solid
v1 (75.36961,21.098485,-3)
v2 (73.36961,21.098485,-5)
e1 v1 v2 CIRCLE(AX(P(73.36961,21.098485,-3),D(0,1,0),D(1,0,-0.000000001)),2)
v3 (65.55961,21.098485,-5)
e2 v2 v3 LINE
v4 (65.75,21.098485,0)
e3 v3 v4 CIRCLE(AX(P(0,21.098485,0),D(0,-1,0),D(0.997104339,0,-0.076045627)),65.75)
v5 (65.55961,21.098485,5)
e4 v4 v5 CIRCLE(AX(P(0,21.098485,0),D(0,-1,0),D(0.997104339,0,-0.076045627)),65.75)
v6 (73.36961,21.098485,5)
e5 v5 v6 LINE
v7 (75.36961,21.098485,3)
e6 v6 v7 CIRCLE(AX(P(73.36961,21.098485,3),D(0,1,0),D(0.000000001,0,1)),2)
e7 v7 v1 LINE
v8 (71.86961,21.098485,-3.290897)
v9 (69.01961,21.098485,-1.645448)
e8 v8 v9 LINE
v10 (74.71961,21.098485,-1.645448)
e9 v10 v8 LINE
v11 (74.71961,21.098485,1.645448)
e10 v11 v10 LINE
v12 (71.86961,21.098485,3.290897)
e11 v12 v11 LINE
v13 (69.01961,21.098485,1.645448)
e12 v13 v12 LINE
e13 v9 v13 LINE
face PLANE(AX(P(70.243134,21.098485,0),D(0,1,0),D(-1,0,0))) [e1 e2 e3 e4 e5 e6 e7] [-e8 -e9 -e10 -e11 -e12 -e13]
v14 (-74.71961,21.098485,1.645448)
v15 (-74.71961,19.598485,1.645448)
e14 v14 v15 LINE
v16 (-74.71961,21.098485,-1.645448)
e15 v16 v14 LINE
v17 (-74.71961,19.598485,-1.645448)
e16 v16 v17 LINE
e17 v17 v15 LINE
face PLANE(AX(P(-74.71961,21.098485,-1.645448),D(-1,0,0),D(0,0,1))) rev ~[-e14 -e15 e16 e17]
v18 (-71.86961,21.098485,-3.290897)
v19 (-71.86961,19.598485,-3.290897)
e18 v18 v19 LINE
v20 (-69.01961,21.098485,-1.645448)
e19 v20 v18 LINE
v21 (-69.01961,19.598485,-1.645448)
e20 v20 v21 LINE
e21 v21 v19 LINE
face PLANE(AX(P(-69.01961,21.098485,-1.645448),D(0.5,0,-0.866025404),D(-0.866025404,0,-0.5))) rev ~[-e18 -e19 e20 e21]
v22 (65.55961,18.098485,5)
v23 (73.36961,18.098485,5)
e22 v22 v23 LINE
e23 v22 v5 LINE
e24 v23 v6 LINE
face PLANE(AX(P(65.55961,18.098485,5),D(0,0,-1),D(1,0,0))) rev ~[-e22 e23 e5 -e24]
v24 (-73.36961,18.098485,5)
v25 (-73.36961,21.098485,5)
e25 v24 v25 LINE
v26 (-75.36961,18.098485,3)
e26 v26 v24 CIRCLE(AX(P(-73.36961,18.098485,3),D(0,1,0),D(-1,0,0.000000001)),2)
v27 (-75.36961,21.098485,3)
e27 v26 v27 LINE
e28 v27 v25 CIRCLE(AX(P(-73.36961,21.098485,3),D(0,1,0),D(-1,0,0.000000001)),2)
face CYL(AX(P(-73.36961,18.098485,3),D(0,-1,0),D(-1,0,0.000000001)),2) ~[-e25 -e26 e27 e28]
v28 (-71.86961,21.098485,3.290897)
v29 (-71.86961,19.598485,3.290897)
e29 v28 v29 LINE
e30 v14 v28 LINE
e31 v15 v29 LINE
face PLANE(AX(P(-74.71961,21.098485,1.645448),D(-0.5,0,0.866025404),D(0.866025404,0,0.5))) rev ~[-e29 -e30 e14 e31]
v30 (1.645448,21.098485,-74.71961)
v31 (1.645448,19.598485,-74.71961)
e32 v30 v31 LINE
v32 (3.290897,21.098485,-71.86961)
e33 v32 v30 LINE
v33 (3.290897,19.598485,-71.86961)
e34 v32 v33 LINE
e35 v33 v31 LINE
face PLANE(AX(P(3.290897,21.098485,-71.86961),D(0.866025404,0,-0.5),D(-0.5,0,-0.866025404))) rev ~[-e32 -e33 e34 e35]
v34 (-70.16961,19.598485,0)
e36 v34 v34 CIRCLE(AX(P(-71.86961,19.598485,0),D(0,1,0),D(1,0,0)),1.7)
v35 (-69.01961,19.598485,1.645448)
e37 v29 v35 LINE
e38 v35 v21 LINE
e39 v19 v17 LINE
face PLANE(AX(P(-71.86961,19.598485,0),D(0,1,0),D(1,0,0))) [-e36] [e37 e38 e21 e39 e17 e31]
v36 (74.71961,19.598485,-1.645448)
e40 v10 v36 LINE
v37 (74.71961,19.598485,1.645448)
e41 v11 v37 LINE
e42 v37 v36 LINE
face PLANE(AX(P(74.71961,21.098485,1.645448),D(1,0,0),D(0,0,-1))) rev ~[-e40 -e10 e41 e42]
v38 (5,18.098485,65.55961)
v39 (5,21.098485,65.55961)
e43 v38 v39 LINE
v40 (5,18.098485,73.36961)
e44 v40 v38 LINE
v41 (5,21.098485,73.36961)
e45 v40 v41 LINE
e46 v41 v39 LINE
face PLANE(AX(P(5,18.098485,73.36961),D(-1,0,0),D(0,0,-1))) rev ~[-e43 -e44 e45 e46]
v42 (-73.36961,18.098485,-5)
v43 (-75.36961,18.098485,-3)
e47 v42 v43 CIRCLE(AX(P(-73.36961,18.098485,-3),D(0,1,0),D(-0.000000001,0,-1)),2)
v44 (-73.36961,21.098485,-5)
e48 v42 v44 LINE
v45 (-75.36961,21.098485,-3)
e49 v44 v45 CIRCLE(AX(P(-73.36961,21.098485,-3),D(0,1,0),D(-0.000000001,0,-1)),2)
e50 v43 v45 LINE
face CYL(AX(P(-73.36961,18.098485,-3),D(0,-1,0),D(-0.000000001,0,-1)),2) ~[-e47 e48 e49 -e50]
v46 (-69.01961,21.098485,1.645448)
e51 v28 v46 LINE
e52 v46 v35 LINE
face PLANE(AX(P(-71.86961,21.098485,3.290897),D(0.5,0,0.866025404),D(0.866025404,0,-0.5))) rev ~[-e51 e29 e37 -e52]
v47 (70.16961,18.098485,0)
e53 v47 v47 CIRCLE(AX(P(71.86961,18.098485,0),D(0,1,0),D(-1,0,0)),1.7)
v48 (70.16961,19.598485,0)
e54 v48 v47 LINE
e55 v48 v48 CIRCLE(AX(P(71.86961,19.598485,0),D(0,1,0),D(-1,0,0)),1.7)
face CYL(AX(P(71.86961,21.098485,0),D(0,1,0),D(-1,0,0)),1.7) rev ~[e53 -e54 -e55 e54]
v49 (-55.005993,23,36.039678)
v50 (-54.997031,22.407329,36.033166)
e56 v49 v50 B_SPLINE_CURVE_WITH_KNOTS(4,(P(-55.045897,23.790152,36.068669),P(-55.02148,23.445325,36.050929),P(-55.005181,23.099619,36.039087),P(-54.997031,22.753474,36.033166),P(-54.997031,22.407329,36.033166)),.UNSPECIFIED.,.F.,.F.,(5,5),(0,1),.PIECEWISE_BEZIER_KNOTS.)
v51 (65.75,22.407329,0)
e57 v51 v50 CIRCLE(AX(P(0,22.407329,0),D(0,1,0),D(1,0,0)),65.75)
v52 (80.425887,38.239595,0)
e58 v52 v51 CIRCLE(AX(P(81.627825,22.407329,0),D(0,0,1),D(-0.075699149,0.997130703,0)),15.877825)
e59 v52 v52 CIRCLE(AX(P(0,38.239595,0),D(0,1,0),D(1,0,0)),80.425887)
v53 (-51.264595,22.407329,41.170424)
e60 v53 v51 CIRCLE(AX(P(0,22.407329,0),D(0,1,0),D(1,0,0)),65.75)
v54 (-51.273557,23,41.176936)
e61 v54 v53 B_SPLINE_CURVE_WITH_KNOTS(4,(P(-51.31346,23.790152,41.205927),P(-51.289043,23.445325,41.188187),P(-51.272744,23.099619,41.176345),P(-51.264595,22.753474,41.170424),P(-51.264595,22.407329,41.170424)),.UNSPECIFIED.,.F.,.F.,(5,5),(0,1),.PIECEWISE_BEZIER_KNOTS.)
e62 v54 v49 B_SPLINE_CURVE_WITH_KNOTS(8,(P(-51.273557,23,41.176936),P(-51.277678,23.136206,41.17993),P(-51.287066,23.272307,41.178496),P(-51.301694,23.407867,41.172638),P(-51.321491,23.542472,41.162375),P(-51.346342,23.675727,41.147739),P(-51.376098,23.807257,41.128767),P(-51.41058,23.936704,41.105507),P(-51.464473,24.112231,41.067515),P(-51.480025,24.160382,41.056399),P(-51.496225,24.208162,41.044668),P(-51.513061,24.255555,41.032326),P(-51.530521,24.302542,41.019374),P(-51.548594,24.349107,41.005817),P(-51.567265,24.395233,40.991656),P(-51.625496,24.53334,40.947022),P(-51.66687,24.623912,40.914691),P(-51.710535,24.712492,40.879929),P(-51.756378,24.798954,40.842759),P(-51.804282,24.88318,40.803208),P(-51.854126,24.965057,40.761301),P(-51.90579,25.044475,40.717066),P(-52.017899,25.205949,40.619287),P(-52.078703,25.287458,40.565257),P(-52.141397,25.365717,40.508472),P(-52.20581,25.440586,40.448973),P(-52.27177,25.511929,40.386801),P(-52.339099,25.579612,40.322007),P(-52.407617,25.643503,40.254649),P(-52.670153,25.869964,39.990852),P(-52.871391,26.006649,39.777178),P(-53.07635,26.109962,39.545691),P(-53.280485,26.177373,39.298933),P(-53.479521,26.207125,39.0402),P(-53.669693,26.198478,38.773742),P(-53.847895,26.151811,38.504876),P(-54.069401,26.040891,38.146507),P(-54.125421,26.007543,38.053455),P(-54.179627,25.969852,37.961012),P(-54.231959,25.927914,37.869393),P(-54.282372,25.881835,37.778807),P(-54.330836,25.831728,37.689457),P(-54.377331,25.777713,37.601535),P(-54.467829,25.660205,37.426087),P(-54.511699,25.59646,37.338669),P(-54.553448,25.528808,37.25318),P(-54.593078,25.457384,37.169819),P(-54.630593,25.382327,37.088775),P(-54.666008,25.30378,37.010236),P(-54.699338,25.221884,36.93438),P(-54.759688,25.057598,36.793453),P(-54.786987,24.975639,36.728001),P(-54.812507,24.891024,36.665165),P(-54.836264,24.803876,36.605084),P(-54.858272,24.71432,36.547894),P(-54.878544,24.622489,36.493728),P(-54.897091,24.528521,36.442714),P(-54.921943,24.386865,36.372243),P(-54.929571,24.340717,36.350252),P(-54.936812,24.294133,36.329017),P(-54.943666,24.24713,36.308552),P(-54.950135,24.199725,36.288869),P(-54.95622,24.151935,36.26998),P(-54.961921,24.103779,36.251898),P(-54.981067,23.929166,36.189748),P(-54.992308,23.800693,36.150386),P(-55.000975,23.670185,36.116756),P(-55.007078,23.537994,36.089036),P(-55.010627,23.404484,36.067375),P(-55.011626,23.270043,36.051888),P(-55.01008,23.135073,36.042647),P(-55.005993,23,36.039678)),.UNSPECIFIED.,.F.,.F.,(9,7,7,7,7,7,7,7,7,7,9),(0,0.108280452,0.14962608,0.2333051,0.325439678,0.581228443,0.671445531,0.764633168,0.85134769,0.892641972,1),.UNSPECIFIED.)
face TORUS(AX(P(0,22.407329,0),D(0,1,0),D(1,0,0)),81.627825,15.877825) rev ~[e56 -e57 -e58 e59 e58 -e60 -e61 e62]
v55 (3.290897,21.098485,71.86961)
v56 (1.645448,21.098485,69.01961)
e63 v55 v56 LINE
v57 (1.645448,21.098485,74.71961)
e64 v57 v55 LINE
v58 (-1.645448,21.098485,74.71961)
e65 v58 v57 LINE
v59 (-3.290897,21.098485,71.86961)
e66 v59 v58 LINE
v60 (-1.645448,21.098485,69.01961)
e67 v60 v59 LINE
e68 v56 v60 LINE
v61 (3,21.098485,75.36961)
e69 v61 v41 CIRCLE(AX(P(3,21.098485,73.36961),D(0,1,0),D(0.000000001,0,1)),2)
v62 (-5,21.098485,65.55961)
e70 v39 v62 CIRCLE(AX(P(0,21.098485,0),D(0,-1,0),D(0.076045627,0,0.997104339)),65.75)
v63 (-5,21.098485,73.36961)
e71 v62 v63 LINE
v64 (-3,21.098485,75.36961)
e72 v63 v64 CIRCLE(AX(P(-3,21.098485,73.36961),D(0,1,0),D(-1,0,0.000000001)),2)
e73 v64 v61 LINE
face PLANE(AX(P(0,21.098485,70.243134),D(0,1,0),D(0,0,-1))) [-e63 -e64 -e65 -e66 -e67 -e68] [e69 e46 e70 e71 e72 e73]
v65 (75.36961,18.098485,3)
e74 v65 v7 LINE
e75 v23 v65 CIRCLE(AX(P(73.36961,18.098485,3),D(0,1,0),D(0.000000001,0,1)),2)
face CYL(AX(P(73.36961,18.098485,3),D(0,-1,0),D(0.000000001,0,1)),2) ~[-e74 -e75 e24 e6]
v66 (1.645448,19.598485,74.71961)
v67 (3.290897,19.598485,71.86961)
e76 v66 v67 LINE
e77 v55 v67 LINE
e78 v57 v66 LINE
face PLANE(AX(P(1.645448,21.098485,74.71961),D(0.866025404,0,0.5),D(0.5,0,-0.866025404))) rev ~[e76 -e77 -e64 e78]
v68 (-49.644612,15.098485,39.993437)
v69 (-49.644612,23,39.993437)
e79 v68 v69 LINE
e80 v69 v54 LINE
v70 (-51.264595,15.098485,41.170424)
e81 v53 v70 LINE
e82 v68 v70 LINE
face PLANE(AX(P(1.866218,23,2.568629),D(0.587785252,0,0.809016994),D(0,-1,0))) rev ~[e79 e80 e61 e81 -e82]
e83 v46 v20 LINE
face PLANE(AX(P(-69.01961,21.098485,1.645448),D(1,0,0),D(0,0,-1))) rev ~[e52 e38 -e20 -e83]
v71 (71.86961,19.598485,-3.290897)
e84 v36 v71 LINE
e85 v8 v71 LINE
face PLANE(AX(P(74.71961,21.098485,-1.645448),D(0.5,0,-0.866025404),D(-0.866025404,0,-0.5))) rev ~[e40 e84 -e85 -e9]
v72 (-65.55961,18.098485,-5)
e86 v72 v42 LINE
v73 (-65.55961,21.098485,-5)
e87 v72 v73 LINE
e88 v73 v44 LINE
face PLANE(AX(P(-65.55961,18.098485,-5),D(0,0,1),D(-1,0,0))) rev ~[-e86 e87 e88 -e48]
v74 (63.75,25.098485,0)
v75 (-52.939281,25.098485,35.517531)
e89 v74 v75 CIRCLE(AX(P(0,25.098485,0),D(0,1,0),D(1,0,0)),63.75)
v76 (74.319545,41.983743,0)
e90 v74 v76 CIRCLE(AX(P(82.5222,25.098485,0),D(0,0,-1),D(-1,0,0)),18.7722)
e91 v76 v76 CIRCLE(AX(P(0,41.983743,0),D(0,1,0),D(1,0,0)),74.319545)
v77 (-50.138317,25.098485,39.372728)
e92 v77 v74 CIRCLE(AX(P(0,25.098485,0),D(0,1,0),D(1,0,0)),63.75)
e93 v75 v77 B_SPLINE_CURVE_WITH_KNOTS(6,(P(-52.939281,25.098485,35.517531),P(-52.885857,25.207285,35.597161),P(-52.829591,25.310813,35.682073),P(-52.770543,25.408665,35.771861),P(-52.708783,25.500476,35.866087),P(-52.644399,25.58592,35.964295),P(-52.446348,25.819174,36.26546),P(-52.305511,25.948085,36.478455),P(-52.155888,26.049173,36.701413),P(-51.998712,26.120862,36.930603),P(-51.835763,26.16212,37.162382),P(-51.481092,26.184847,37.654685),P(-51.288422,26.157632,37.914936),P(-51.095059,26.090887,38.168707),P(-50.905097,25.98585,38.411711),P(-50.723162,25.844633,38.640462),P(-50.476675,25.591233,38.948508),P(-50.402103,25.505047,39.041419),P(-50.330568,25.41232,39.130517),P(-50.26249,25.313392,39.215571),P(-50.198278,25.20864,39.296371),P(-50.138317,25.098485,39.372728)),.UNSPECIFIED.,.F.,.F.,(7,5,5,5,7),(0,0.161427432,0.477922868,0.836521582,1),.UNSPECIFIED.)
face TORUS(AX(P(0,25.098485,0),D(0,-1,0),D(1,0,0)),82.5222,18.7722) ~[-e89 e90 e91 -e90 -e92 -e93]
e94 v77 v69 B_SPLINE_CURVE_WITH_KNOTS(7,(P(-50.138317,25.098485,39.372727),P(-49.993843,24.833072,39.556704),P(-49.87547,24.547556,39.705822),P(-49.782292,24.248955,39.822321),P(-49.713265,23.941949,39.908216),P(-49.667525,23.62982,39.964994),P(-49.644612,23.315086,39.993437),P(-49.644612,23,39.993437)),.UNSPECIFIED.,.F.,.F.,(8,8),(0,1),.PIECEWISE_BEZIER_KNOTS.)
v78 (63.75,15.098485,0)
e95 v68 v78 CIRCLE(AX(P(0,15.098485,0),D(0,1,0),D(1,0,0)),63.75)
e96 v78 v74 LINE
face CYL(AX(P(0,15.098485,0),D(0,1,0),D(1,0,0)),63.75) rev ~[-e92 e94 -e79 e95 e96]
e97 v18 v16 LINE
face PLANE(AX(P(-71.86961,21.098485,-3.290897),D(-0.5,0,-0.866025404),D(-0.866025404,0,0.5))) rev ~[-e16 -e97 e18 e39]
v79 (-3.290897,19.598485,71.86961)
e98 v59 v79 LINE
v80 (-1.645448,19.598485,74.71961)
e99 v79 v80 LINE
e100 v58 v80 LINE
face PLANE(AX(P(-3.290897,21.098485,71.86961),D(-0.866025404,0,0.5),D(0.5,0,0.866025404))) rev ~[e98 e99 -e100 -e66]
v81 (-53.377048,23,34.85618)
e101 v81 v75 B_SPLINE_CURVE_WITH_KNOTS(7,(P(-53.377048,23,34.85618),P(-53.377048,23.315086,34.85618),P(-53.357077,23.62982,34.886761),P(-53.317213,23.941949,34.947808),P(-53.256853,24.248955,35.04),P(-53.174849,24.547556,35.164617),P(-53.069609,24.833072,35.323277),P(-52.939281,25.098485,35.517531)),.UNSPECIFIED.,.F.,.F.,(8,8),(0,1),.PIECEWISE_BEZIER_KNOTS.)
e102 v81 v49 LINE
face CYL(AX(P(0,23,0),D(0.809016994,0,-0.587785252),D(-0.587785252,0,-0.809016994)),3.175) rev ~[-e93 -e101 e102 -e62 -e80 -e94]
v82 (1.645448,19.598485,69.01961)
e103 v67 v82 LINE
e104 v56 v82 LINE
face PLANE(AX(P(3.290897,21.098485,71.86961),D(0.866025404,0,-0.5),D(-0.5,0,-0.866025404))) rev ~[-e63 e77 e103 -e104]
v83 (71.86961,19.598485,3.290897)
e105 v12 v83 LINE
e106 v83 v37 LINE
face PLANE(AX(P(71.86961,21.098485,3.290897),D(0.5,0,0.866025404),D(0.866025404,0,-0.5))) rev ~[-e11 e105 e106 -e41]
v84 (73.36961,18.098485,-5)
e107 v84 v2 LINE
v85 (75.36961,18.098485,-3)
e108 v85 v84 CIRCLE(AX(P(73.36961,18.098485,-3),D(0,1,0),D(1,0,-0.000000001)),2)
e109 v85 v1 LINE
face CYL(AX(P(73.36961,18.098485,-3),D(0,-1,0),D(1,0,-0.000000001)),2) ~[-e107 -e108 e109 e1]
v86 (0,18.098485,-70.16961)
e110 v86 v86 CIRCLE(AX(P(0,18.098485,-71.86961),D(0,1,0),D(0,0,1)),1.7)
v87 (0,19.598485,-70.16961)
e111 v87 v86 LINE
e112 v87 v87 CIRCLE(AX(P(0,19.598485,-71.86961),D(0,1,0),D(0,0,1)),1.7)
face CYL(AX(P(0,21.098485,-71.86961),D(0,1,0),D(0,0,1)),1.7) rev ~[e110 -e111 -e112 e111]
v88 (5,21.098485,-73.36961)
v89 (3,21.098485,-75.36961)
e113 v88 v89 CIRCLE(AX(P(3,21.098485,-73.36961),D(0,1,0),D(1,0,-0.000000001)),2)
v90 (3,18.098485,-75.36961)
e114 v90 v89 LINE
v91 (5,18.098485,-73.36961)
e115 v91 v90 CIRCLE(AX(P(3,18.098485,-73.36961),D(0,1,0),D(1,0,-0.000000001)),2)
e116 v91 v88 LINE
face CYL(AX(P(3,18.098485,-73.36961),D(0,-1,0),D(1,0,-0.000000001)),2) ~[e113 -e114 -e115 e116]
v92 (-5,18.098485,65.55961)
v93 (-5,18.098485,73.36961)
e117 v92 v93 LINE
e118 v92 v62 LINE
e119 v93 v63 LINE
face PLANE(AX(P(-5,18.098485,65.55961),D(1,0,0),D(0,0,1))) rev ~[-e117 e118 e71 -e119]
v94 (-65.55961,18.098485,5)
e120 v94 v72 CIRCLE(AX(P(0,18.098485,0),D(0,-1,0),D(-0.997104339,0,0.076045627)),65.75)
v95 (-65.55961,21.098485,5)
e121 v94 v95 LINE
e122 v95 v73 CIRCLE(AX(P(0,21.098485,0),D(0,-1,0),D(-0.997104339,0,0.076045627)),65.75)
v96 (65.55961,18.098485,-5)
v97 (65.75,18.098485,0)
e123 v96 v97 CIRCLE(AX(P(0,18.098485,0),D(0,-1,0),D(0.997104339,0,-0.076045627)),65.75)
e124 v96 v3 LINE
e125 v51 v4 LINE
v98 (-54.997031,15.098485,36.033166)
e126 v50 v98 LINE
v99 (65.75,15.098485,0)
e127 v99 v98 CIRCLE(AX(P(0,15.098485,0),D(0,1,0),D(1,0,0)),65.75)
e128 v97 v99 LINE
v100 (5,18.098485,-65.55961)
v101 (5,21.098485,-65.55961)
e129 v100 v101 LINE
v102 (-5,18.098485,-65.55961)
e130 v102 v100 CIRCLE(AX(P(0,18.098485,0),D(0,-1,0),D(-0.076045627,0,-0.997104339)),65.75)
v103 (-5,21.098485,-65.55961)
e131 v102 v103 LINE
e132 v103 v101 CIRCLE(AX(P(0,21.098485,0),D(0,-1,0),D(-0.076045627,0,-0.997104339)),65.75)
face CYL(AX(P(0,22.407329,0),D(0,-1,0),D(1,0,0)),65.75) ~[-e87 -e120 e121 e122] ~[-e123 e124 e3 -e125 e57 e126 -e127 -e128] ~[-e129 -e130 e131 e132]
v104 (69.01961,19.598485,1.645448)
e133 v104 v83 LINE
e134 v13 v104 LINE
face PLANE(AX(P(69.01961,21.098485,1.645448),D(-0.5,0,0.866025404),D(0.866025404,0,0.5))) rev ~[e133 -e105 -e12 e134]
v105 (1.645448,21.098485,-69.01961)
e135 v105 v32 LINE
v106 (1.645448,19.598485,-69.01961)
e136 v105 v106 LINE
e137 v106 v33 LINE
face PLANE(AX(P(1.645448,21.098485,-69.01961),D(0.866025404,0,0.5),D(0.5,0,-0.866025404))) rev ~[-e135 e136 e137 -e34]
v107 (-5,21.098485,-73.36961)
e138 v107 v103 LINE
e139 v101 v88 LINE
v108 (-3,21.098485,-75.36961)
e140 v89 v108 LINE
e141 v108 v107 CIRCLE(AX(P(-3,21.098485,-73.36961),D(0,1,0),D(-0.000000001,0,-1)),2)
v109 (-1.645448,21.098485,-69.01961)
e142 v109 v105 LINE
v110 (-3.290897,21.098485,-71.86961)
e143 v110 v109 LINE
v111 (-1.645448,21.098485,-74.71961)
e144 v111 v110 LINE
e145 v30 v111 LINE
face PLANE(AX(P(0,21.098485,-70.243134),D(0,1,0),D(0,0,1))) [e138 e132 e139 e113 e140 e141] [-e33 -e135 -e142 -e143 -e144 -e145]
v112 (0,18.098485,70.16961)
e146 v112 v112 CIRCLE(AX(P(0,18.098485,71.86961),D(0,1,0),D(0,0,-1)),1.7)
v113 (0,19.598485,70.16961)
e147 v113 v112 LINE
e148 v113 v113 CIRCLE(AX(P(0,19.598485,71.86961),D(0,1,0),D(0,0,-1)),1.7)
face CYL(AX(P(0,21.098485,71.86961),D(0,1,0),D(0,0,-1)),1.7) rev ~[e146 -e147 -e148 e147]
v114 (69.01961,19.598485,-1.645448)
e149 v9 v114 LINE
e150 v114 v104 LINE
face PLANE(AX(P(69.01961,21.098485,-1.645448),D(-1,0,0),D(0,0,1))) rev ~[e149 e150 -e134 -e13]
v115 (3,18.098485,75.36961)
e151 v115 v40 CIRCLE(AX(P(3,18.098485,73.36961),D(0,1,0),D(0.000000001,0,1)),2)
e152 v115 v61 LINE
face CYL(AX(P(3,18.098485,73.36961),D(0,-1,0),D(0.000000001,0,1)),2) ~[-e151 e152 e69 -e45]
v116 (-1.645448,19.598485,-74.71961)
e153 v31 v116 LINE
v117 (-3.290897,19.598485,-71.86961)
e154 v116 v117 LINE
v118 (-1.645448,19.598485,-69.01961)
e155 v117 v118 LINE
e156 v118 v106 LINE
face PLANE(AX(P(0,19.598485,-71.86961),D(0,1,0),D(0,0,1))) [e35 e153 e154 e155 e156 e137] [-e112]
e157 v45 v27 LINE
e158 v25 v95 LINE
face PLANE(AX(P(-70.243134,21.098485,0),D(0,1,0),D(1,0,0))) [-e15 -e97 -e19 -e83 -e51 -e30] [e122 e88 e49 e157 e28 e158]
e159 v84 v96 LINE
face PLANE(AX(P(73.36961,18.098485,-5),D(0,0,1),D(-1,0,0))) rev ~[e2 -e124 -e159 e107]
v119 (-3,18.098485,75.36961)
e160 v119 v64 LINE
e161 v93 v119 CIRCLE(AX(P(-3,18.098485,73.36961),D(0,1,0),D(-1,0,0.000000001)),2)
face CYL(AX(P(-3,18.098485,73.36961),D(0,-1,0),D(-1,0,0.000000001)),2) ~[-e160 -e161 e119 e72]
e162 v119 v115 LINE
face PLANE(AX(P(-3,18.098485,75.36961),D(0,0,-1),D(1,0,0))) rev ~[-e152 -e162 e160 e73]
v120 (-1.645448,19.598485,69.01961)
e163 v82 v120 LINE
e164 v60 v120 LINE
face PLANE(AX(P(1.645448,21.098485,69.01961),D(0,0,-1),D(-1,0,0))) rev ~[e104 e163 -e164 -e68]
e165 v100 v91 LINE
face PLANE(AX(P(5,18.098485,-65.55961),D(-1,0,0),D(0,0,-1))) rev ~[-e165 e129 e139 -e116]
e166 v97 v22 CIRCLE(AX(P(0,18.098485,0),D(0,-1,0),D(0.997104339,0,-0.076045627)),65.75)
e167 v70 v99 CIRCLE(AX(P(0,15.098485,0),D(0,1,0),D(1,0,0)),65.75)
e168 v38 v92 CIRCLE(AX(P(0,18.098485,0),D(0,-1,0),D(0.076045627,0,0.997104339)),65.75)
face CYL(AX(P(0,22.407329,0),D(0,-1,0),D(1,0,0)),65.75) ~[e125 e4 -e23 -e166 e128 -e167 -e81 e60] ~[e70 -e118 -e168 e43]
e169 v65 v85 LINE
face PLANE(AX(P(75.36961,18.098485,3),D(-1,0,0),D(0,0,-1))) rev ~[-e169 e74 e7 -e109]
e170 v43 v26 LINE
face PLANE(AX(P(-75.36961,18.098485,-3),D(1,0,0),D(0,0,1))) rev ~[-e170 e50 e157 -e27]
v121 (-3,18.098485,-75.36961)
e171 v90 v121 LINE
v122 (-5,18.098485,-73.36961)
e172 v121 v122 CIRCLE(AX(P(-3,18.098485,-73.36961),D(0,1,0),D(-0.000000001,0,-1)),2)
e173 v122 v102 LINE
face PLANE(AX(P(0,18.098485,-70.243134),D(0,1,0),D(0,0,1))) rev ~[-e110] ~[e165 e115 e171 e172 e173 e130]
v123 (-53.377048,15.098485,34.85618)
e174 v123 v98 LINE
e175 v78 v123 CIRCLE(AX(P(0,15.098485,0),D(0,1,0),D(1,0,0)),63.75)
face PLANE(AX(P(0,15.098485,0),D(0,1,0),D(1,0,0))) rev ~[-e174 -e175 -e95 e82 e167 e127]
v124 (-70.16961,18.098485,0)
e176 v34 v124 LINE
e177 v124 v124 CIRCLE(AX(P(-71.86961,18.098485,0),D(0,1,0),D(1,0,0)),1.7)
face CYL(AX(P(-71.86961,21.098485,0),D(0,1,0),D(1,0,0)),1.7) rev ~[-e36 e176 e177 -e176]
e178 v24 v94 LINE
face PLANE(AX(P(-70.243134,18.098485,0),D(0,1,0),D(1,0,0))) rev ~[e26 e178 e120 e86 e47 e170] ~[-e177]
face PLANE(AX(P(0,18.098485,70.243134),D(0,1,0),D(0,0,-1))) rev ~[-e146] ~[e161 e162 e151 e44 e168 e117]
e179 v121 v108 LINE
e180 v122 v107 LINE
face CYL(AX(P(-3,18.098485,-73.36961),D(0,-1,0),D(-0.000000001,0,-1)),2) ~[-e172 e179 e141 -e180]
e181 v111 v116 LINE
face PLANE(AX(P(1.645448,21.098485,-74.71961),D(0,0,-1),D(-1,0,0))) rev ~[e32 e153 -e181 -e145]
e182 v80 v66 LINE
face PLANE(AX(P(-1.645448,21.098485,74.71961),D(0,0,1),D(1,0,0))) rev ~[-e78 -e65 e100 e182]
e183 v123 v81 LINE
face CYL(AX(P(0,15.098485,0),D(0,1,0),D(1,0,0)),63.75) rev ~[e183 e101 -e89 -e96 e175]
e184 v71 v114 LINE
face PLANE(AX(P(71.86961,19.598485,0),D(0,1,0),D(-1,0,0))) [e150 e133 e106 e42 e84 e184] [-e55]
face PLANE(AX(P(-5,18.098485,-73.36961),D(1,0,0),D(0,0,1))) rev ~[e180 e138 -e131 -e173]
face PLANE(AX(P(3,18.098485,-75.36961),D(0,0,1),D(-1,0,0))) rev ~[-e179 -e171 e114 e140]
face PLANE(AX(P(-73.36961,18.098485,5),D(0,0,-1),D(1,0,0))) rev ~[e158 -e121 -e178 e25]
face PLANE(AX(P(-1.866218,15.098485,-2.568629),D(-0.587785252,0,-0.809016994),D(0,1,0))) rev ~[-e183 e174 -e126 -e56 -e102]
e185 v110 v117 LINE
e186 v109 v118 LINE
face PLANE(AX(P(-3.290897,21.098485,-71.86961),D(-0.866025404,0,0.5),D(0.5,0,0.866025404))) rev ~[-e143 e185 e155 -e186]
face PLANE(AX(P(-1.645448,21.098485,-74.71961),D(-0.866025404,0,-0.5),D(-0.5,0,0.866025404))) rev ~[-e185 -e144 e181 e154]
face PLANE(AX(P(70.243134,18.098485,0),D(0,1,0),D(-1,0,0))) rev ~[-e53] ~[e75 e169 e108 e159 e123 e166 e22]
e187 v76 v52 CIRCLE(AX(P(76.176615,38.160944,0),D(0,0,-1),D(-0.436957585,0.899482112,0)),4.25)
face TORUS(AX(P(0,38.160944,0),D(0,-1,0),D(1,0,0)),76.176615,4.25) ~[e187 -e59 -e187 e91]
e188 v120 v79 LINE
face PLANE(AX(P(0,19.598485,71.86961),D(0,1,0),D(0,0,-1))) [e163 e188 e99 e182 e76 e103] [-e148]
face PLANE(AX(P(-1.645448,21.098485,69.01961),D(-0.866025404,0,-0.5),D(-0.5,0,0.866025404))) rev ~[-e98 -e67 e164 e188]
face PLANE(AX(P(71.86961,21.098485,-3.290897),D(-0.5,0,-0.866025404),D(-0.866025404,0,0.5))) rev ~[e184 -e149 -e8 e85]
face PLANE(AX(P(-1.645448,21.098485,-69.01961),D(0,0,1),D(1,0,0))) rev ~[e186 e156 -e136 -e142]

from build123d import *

# Parameters (mm, degrees)
BOSS_EXTRUDE1_DEPTH = 3
SKETCH5_R           = 1.7
CUT_EXTRUDE2_DEPTH  = 116.718915703
CUT_EXTRUDE1_DEPTH  = 1.5
CIRPATTERN13_COUNT  = 4
CUT_EXTRUDE3_DEPTH  = 122.389186915


with BuildPart() as part:
    # Sketch1 → Revolve1 (revolve)
    with BuildSketch(Plane.XY):
        with BuildLine():
            Line((63.75, 18.737026277), (63.75, 25.098484685))
            ThreePointArc((63.75, 25.098484685), (66.610296039, 35.058746011), (74.319544881, 41.983742863))
            ThreePointArc((74.319544881, 41.983742863), (78.398172265, 41.784089154), (80.425886783, 38.239595286))
            ThreePointArc((80.425886783, 38.239595286), (69.983309328, 33.20133547), (65.75, 22.407328891))
            Line((65.75, 22.407328891), (65.75, 18.737026277))
            Line((65.75, 18.737026277), (65.75, 15.098484685))
            Line((65.75, 15.098484685), (63.75, 15.098484685))
            Line((63.75, 15.098484685), (63.75, 18.737026277))
        make_face()
    revolve(axis=Axis((0, 0, 0), (0, 1, 0)))

    # Sketch3 → Boss-Extrude1 (add)
    with BuildSketch(Plane(origin=(0, 18.098484685, 0), x_dir=(-1, 0, 0), z_dir=(0, -1, 0))):
        with BuildLine():
            Line((65.55961028, 5), (73.36961028, 5))
            ThreePointArc((73.36961028, 5), (74.783823842, 4.414213562), (75.36961028, 3))
            Line((75.36961028, 3), (75.36961028, -3))
            ThreePointArc((75.36961028, -3), (74.783823842, -4.414213562), (73.36961028, -5))
            Line((73.36961028, -5), (65.55961028, -5))
            ThreePointArc((65.55961028, -5), (65.75, 0), (65.55961028, 5))
        make_face()
    boss_extrude1 = extrude(amount=-BOSS_EXTRUDE1_DEPTH)

    # Sketch5 → Cut-Extrude2 (cut, through all)
    with BuildSketch(Plane(origin=(0, 21.098484685, 0), x_dir=(1, 0, 0), z_dir=(0, 1, 0))):
        with Locations((-71.86961028, 0)):
            Circle(SKETCH5_R)
    cut_extrude2 = extrude(amount=-CUT_EXTRUDE2_DEPTH, mode=Mode.SUBTRACT)

    # Sketch4 → Cut-Extrude1 (cut)
    with BuildSketch(Plane(origin=(0, 21.098484685, 0), x_dir=(1, 0, 0), z_dir=(0, 1, 0))):
        Polygon((-71.86961028, 3.290896534), (-74.71961028, 1.645448267), (-74.71961028, -1.645448267), (-71.86961028, -3.290896534), (-69.01961028, -1.645448267), (-69.01961028, 1.645448267), align=None)
    cut_extrude1 = extrude(amount=-CUT_EXTRUDE1_DEPTH, mode=Mode.SUBTRACT)

    # CirPattern13: Boss-Extrude1, Cut-Extrude2, Cut-Extrude1 ×4 about axis
    cirpattern13_axis = Axis((0, 0, 0), (0, -1, 0))
    add([boss_extrude1.rotate(cirpattern13_axis, i * 360 / CIRPATTERN13_COUNT) for i in range(1, CIRPATTERN13_COUNT)])
    add([cut_extrude2.rotate(cirpattern13_axis, i * 360 / CIRPATTERN13_COUNT) for i in range(1, CIRPATTERN13_COUNT)], mode=Mode.SUBTRACT)
    add([cut_extrude1.rotate(cirpattern13_axis, i * 360 / CIRPATTERN13_COUNT) for i in range(1, CIRPATTERN13_COUNT)], mode=Mode.SUBTRACT)

    # Sketch6 → Cut-Extrude3 (cut, through all)
    with BuildSketch(Plane(origin=(0, 0, 0), x_dir=(0, 1, 0), z_dir=(0.8090169943749466, 0, -0.5877852522924742))):
        with BuildLine():
            Line((21, 3.175), (15.098484685, 3.175))
            Line((15.098484685, 3.175), (15.098484685, -3.175))
            Line((15.098484685, -3.175), (21, -3.175))
            Line((21, -3.175), (23, -3.175))
            ThreePointArc((23, -3.175), (26.175, 0), (23, 3.175))
            Line((23, 3.175), (21, 3.175))
        make_face()
    extrude(amount=-CUT_EXTRUDE3_DEPTH, mode=Mode.SUBTRACT)


solid = part.part
